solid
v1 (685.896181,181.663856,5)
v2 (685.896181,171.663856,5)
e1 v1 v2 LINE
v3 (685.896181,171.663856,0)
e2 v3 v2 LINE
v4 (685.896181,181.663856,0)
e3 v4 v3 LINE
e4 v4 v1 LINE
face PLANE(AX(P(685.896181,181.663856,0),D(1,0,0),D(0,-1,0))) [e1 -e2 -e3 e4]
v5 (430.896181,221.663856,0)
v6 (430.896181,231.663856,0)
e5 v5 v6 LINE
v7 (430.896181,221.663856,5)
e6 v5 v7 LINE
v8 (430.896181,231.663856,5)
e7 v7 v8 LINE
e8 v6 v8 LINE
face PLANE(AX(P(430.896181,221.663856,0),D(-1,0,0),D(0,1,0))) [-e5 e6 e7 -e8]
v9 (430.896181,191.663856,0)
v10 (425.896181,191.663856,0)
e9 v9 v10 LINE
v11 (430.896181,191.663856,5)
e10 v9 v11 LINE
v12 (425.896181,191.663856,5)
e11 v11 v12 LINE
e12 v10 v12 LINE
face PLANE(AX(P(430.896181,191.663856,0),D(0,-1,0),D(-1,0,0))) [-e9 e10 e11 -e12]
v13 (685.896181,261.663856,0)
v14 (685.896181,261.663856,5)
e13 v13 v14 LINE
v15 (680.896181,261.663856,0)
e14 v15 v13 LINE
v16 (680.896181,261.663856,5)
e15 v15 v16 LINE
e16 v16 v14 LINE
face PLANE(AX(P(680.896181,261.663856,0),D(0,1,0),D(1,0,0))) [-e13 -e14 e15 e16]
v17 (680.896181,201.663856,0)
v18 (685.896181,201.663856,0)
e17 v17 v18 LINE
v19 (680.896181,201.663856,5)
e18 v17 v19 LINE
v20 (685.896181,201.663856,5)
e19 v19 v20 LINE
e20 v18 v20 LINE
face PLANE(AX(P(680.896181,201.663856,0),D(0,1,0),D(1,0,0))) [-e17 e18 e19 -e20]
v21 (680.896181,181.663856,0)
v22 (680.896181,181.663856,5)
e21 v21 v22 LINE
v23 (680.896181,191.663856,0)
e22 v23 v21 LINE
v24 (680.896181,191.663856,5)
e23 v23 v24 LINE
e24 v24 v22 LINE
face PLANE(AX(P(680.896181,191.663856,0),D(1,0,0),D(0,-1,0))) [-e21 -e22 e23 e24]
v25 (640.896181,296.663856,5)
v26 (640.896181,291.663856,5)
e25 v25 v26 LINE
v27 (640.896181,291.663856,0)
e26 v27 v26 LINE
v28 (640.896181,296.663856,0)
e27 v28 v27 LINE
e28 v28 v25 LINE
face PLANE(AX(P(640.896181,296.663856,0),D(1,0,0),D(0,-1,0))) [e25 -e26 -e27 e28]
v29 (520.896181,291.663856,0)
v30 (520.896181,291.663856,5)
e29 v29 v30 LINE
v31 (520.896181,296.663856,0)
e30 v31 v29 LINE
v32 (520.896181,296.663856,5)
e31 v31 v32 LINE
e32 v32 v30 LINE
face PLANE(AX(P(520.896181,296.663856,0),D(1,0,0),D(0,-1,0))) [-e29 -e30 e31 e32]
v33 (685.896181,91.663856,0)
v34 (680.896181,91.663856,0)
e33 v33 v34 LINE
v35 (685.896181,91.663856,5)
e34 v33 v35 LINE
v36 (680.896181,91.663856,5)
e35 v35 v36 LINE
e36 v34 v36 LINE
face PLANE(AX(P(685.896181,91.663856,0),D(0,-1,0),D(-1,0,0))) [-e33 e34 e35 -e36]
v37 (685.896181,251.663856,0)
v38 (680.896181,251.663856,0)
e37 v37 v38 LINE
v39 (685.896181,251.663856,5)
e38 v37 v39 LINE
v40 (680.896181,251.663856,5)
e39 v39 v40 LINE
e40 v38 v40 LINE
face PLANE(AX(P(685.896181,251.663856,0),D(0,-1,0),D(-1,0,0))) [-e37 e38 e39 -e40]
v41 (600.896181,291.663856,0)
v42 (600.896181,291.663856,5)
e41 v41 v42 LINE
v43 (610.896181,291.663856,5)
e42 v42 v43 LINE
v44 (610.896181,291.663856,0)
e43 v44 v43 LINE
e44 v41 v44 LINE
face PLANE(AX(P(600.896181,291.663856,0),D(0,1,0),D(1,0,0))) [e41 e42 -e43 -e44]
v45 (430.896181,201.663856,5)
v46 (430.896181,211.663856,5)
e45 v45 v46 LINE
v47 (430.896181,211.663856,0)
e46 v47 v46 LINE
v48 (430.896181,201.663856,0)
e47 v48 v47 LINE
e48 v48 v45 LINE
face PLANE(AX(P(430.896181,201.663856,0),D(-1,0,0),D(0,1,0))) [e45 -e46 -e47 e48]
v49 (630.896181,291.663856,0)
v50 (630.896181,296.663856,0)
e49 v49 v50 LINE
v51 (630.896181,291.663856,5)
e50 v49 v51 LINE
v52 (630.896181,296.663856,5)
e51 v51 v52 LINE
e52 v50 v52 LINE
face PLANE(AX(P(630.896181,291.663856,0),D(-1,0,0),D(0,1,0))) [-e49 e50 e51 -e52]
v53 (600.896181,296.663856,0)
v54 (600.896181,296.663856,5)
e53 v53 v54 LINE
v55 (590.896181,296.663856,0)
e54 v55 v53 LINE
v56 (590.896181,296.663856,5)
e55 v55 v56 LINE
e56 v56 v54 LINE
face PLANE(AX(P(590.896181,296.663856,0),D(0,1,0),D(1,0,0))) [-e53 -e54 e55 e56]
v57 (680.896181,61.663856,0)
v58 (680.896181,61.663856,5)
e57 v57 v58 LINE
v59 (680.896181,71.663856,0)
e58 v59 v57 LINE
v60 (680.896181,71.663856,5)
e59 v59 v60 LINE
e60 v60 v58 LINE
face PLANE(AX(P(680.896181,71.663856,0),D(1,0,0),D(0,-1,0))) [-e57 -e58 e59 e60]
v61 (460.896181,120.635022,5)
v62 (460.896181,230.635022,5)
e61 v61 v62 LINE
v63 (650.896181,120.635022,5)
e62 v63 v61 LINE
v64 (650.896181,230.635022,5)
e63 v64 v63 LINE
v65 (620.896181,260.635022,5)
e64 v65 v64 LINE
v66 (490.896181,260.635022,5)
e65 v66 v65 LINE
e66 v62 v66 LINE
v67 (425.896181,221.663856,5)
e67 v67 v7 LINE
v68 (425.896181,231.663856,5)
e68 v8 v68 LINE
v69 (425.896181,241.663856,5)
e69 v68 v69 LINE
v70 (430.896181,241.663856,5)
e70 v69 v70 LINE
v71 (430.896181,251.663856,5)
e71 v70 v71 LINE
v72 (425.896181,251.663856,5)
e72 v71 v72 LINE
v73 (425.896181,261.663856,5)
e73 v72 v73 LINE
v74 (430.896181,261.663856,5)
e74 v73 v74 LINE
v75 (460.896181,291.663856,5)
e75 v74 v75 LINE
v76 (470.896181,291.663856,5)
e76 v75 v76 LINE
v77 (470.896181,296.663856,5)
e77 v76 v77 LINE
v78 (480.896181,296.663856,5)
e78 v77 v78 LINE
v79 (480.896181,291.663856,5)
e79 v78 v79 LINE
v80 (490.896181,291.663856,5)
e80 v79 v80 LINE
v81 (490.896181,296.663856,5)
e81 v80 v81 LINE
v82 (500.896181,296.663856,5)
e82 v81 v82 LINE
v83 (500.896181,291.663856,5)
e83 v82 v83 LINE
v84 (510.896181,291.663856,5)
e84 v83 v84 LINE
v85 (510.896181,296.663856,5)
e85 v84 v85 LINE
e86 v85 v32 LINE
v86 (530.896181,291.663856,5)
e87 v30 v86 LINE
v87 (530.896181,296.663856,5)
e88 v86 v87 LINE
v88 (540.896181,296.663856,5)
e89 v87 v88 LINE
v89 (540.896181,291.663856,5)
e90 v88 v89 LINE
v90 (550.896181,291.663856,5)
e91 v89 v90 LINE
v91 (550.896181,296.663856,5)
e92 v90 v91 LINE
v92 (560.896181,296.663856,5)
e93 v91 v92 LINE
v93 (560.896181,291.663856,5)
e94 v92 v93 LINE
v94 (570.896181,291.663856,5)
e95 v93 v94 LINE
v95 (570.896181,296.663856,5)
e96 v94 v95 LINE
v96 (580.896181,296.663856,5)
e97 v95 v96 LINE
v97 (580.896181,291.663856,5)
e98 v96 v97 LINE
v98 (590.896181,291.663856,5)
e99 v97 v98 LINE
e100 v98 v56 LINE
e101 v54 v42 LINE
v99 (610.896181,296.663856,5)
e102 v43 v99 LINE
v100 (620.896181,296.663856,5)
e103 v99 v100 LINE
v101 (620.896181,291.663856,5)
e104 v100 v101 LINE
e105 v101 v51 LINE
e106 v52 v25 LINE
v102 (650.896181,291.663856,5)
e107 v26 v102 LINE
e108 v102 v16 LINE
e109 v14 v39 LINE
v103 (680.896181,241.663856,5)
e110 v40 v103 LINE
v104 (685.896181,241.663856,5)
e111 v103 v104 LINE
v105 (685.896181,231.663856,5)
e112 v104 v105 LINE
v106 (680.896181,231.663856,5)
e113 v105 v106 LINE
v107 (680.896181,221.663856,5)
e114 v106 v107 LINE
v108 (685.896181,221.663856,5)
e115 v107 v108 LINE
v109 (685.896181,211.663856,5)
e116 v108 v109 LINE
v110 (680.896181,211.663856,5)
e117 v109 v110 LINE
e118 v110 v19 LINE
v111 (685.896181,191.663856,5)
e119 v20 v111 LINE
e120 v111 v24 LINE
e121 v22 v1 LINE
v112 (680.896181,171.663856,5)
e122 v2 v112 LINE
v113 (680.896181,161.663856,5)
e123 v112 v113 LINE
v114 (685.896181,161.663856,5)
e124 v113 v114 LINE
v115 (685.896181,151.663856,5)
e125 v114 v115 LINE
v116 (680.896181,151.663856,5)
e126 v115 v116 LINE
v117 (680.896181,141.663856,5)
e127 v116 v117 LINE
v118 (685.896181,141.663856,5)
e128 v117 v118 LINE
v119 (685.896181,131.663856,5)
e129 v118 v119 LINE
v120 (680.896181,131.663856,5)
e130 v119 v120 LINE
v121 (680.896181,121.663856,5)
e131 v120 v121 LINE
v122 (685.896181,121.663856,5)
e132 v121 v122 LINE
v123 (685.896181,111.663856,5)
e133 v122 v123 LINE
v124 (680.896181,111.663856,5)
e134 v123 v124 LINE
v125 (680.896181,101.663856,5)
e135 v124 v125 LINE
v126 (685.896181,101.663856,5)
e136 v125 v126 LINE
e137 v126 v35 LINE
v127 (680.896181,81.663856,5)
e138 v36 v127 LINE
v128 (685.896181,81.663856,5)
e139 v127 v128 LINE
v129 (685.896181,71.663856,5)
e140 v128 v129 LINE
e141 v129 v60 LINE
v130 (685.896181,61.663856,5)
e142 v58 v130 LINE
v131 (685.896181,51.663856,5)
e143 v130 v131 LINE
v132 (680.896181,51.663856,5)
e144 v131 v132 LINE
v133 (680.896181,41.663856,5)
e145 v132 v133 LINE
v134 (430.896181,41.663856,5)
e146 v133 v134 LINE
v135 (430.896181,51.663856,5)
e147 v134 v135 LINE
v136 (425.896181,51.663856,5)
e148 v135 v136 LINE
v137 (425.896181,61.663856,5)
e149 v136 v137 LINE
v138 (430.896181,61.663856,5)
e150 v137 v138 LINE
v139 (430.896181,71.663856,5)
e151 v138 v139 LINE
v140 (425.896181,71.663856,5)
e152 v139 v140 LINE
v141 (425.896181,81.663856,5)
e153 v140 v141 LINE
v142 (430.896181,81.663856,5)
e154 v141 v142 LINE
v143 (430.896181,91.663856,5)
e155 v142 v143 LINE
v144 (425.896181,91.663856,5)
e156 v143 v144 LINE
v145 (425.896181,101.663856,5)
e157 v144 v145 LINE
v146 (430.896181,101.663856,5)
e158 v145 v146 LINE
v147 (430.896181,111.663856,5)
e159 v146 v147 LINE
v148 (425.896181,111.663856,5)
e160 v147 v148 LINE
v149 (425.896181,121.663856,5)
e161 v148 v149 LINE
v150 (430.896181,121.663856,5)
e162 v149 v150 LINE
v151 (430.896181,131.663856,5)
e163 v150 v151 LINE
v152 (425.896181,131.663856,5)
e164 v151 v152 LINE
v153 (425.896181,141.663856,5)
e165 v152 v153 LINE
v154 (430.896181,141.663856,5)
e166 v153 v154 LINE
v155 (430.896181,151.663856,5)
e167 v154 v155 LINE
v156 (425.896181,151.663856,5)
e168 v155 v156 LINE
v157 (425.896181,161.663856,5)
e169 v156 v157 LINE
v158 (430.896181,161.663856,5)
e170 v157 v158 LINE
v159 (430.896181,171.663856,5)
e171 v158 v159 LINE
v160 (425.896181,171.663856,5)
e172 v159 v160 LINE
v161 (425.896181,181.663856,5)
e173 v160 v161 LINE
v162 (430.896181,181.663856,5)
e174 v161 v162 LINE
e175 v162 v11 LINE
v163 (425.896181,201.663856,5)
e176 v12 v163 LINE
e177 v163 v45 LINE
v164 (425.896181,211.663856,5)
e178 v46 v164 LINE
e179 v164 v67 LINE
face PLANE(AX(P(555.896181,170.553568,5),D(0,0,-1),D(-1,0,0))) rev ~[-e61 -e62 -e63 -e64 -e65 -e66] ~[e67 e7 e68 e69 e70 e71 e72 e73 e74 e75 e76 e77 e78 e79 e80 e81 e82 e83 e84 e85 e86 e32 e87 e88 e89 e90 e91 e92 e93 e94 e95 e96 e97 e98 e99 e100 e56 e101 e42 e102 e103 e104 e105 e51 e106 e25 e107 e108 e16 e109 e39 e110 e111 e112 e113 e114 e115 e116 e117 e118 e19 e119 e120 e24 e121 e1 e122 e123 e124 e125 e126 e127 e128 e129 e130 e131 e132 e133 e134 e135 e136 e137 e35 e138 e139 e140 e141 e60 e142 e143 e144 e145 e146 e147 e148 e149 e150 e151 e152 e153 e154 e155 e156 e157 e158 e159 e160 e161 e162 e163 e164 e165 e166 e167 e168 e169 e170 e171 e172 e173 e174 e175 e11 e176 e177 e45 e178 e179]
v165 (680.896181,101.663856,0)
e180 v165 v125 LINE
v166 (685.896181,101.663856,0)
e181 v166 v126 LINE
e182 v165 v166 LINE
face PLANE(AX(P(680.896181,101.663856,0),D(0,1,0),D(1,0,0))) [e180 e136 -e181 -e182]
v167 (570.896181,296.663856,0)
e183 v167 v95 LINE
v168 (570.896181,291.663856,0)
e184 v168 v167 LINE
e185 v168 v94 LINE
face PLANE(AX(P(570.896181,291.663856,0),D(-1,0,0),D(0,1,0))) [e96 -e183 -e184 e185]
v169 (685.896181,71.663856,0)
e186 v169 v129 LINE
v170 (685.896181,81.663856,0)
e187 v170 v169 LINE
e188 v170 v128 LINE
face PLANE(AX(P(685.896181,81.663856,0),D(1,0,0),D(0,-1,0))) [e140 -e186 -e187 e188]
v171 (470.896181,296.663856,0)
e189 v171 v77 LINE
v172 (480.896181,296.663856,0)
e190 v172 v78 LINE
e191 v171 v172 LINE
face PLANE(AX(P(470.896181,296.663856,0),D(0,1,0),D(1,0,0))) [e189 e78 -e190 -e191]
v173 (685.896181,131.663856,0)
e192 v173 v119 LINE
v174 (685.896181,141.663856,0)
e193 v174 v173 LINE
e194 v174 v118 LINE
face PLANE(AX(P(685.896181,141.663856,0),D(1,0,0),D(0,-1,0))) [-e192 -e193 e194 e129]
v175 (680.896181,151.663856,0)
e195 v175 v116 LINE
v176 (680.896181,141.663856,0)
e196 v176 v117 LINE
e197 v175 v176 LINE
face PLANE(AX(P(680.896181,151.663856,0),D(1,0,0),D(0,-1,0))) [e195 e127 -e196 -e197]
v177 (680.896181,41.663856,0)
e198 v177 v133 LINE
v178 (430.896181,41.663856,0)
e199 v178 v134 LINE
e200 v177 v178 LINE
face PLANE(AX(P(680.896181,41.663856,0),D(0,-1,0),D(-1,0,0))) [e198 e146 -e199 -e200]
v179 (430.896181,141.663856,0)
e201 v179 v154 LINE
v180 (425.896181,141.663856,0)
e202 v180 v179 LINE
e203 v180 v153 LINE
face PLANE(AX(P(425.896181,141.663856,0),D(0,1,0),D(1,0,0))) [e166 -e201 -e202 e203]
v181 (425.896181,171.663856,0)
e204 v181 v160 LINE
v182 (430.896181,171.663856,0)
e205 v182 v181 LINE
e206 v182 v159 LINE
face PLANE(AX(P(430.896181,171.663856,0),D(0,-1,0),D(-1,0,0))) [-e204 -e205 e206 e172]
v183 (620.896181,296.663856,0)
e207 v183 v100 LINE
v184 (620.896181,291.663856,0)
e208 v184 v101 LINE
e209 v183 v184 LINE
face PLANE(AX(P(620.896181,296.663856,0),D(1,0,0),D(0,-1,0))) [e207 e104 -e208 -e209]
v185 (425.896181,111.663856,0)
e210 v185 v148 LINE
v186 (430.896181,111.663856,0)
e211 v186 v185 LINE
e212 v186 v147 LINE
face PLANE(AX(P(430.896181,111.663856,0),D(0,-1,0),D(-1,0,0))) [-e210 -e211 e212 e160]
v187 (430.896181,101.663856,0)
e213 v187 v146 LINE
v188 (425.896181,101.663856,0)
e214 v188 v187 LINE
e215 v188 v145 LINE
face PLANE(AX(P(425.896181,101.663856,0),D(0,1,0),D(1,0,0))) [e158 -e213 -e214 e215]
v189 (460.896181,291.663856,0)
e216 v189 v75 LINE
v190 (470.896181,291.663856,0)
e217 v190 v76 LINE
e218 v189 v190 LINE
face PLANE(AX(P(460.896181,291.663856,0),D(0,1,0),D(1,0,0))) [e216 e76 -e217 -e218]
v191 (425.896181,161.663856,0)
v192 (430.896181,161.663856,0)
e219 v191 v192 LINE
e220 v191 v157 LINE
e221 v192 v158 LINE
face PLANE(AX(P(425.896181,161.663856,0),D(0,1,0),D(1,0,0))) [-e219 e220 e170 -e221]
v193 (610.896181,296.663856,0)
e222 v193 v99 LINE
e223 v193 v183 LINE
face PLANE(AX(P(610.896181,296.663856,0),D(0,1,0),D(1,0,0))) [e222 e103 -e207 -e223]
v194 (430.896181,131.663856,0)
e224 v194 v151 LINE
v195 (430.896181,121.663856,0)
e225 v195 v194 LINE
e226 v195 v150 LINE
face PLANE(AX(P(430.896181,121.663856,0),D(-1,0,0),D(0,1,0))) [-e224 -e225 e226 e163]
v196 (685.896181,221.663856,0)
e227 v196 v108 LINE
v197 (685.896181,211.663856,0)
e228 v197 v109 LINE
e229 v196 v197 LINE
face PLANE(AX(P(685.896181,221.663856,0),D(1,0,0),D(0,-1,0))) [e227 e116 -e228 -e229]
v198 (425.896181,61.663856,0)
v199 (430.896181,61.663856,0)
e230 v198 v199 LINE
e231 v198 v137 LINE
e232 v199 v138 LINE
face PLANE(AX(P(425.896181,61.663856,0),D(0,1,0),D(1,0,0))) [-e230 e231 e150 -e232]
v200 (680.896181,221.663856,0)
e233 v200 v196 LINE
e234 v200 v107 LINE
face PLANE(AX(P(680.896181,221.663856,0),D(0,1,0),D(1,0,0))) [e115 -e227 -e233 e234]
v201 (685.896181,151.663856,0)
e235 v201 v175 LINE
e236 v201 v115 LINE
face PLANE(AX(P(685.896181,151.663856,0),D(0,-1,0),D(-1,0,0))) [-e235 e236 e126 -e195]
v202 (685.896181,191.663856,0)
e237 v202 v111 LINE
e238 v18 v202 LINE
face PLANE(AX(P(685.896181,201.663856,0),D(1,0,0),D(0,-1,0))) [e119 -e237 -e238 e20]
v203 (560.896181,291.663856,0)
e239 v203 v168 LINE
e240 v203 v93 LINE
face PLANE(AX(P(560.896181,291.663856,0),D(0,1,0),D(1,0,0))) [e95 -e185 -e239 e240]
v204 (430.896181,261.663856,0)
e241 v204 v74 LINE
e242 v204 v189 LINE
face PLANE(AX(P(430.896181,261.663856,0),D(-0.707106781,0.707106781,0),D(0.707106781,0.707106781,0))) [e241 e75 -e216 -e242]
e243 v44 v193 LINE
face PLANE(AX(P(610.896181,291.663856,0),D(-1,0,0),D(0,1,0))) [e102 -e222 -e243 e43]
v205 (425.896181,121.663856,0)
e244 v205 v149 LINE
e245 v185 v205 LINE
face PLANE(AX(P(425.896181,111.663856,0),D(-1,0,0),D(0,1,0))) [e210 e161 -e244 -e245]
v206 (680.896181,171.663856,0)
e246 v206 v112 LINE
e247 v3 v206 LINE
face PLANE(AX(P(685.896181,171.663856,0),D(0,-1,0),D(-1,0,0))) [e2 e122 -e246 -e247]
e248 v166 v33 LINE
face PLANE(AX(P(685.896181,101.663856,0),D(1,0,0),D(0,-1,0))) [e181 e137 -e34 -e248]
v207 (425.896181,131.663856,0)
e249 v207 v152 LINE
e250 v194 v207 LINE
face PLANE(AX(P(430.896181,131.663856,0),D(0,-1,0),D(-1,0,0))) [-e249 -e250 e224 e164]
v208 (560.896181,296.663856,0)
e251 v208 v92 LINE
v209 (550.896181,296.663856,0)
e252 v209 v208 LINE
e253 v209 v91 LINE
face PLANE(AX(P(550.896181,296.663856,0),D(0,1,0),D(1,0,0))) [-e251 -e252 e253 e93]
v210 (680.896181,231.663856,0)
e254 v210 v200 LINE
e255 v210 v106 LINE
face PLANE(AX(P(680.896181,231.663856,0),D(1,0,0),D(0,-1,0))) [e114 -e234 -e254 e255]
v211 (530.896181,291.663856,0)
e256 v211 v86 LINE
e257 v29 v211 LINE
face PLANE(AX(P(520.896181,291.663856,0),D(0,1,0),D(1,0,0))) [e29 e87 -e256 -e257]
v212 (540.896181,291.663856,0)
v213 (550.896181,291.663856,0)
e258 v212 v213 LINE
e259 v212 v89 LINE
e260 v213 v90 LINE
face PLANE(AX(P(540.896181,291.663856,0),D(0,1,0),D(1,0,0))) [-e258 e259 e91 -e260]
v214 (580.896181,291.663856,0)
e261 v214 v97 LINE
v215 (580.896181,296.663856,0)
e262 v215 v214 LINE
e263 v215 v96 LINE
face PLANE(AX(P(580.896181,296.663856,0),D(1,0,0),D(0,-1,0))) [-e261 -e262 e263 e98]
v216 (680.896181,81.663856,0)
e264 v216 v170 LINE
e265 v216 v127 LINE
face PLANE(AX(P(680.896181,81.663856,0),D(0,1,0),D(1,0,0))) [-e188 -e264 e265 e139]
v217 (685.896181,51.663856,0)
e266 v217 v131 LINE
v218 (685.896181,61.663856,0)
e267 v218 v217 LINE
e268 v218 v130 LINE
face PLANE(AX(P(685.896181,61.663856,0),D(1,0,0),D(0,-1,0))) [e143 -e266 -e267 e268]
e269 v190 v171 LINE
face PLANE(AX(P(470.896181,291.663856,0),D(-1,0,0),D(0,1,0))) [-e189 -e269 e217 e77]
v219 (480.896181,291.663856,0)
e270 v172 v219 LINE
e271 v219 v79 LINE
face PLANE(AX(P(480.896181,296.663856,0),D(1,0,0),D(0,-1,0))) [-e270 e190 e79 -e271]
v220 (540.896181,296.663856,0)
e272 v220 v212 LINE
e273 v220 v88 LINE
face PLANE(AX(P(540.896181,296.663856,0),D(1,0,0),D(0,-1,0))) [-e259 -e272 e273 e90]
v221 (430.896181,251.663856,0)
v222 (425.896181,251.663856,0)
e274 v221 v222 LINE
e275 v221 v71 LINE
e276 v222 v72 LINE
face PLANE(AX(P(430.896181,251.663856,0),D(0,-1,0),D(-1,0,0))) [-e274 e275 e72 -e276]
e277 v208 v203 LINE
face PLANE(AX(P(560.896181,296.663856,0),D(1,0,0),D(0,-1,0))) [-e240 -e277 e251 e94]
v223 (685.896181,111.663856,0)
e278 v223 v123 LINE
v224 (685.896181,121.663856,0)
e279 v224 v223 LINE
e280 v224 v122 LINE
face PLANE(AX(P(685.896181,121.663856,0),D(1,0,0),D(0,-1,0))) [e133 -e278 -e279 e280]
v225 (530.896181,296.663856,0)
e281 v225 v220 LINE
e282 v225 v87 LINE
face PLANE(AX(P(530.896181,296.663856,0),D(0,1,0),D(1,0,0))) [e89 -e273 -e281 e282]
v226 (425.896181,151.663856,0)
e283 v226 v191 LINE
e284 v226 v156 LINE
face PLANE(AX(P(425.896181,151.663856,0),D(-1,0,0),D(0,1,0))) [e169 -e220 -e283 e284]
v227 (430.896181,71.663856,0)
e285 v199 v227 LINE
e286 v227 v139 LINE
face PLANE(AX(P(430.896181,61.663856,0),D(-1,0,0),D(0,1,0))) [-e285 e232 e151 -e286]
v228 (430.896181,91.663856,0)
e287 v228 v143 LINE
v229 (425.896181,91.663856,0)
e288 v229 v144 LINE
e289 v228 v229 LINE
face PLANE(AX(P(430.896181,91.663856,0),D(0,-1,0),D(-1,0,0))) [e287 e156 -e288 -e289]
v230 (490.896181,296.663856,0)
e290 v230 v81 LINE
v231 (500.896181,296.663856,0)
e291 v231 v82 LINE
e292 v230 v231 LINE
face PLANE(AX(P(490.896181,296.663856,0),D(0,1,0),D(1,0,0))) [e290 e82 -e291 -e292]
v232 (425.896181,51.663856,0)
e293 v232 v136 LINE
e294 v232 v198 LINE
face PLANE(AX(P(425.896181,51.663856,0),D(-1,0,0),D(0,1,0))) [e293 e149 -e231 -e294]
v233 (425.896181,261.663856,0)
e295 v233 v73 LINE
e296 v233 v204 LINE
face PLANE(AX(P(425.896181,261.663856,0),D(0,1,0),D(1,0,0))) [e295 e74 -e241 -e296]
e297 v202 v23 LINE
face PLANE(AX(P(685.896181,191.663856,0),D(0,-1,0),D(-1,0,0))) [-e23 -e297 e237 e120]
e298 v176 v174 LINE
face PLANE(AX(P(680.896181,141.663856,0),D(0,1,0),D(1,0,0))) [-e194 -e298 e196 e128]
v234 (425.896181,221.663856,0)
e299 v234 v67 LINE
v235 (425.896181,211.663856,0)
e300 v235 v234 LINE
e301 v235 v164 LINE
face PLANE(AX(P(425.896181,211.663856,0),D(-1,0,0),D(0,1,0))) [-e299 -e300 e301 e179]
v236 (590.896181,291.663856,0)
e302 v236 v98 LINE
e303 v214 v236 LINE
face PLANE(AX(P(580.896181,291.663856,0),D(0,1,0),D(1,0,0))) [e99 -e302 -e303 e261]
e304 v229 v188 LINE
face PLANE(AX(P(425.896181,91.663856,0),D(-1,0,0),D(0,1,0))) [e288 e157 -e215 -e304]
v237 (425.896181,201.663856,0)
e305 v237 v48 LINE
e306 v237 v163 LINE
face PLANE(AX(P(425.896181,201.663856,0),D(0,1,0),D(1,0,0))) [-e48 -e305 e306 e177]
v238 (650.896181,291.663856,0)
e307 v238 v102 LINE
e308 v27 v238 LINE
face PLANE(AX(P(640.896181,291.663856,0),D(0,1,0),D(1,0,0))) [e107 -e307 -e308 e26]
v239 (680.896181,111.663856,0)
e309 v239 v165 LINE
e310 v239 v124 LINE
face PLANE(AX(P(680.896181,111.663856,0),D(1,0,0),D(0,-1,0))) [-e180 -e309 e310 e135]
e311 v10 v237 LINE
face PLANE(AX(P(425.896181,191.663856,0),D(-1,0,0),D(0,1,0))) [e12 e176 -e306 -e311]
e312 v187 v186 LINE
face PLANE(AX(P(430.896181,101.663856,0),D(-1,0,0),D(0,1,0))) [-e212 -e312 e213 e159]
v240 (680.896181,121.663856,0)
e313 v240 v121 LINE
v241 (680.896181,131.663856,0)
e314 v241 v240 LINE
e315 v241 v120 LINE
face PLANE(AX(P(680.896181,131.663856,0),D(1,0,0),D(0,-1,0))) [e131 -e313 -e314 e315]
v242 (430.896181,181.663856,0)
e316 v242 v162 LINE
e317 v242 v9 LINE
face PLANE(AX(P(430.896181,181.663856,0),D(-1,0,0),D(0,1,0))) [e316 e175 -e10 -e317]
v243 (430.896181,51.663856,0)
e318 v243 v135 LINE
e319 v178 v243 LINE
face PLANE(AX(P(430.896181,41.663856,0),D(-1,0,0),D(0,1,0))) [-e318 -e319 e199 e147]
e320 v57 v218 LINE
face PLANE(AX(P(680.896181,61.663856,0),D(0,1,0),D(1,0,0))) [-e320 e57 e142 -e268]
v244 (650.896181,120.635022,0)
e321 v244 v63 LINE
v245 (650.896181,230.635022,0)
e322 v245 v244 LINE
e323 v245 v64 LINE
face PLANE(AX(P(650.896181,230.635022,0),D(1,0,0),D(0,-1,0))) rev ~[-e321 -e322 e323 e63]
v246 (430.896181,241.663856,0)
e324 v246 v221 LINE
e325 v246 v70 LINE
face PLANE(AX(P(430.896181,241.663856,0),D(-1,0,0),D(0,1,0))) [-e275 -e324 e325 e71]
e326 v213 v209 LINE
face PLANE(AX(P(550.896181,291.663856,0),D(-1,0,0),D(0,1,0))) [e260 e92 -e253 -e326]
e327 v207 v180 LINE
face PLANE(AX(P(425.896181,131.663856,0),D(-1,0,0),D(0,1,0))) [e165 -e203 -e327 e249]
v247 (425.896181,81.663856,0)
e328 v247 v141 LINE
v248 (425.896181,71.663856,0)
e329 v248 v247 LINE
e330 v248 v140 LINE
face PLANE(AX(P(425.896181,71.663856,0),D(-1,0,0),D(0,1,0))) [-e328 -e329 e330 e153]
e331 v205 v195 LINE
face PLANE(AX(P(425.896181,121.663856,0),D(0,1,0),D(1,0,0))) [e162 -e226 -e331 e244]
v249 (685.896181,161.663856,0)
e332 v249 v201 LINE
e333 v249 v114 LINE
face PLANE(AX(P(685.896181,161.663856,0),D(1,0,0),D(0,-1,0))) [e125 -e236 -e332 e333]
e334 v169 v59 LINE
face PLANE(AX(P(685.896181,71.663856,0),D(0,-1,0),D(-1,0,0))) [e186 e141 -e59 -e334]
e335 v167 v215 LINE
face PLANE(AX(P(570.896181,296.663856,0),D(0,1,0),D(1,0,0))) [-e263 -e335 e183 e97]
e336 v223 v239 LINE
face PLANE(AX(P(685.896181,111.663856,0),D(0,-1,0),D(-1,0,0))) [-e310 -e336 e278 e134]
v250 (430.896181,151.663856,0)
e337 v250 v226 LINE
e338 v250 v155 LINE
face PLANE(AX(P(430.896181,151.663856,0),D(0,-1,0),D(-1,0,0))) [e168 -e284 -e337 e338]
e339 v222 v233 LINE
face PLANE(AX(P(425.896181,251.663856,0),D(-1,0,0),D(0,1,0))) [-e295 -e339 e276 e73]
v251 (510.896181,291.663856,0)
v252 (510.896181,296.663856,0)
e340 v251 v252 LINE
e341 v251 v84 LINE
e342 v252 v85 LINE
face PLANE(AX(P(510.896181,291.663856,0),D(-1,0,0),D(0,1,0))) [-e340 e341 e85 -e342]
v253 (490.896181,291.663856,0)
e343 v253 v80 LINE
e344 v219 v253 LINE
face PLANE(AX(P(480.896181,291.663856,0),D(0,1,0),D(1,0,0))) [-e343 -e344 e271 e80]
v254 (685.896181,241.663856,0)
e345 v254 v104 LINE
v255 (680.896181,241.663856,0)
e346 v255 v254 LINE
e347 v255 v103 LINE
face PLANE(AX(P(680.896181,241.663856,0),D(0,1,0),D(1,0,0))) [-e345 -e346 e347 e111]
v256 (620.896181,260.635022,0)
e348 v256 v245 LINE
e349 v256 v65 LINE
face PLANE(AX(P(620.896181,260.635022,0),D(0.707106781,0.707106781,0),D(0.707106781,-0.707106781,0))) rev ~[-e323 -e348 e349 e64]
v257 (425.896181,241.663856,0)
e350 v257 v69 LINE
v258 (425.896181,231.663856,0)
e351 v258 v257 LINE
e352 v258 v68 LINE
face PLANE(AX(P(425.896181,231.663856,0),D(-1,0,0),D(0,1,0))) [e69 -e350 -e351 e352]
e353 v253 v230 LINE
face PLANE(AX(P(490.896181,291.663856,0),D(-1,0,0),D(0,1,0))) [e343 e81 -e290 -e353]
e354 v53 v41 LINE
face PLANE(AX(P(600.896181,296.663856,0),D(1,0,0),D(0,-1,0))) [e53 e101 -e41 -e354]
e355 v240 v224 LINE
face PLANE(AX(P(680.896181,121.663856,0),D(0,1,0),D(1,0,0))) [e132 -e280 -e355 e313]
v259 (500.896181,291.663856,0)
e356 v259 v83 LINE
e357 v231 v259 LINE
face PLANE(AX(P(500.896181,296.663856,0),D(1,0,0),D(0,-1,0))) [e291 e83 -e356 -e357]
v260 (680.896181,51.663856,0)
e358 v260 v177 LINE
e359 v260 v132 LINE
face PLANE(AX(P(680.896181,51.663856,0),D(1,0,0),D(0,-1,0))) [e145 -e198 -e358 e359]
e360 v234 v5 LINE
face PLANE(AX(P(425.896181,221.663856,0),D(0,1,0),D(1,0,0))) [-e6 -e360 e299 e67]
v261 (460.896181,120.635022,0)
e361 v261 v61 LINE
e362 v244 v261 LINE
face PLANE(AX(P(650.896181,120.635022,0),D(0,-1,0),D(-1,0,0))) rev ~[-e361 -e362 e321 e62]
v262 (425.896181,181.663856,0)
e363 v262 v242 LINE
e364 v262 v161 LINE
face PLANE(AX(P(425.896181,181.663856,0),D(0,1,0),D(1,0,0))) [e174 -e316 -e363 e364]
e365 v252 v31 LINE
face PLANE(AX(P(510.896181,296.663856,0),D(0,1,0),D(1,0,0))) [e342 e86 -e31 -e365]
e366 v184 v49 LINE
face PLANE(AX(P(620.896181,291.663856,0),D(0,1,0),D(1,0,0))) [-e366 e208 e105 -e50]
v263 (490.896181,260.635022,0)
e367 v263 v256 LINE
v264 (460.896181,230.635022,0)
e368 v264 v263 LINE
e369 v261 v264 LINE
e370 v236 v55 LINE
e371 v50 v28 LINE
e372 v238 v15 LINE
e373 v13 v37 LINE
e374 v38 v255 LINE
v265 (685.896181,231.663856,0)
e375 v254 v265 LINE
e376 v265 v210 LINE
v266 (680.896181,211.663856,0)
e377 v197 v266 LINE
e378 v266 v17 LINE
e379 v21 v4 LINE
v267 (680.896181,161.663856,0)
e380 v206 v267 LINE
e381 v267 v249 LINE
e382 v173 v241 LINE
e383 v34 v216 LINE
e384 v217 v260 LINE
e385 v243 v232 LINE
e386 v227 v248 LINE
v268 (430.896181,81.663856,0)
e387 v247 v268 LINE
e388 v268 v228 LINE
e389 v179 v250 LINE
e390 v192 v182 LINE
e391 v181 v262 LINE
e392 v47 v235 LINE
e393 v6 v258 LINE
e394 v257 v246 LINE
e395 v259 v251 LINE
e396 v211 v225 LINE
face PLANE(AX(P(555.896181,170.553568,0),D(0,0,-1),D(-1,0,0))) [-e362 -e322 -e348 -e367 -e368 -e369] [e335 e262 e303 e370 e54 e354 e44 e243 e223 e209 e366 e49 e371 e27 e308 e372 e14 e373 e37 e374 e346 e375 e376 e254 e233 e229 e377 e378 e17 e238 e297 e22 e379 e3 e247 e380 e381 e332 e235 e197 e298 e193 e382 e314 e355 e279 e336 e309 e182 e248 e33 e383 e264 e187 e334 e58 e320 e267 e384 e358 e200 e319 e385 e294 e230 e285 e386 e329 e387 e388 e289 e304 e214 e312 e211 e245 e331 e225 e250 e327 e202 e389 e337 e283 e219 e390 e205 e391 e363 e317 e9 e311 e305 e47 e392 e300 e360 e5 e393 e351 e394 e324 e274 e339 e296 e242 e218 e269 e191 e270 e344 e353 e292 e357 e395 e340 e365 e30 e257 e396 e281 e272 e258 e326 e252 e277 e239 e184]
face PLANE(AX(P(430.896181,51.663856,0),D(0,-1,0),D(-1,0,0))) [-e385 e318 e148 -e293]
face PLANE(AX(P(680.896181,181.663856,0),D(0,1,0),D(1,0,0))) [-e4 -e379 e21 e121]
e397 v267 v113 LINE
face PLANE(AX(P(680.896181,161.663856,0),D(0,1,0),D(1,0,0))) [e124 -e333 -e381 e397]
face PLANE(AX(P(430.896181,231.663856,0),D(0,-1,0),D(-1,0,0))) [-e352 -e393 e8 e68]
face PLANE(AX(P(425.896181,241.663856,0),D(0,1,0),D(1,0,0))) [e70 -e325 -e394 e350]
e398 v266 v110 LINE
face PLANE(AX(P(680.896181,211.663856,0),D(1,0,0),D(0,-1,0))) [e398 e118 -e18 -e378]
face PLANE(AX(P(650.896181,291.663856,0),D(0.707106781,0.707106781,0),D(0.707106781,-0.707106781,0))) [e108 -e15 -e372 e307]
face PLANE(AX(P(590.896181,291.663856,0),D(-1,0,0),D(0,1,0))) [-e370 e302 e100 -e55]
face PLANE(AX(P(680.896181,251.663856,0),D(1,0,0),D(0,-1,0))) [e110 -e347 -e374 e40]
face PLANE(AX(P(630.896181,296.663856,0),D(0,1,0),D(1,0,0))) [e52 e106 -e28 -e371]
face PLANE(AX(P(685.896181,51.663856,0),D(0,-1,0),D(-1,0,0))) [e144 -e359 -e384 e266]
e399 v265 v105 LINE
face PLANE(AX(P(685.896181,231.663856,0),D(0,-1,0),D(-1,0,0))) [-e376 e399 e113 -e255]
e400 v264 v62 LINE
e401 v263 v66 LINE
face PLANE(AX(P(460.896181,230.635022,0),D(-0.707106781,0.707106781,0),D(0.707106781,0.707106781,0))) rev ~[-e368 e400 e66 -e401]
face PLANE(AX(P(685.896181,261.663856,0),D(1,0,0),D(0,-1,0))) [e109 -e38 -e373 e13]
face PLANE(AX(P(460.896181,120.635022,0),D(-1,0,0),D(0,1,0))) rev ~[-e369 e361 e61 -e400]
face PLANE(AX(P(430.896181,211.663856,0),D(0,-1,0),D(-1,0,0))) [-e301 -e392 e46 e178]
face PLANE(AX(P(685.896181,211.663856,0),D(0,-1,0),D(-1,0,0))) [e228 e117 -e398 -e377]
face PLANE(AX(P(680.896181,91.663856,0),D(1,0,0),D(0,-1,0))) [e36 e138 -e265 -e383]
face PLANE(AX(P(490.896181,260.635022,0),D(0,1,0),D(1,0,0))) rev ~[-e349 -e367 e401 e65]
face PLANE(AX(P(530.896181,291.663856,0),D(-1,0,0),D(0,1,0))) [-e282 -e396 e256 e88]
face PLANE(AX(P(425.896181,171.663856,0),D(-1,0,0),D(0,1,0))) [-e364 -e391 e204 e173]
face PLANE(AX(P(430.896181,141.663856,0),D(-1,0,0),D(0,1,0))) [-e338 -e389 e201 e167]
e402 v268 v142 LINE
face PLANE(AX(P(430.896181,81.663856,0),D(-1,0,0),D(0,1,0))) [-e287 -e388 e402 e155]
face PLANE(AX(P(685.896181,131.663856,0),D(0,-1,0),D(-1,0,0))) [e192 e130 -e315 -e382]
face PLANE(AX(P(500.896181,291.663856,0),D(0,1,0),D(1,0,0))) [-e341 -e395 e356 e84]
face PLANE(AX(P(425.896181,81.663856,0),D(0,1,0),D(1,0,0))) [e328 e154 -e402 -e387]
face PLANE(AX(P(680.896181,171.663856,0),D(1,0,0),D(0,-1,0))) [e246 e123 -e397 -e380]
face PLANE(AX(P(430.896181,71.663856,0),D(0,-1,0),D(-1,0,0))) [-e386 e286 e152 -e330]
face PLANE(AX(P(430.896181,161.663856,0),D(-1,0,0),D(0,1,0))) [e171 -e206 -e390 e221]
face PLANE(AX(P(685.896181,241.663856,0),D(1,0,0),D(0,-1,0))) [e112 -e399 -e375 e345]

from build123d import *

# Parameters (mm, degrees)
AUFSATZ_LINEAR_AUSTRAGEN1_DEPTH = 5


with BuildPart() as part:
    # Skizze1 → Aufsatz-Linear austragen1 (new body)
    with BuildSketch(Plane.XY):
        Polygon((460.89618142, 291.663856447), (470.89618142, 291.663856447), (470.89618142, 296.663856447), (480.89618142, 296.663856447), (480.89618142, 291.663856447), (490.89618142, 291.663856447), (490.89618142, 296.663856447), (500.89618142, 296.663856447), (500.89618142, 291.663856447), (510.89618142, 291.663856447), (510.89618142, 296.663856447), (520.89618142, 296.663856447), (520.89618142, 291.663856447), (530.89618142, 291.663856447), (530.89618142, 296.663856447), (540.89618142, 296.663856447), (540.89618142, 291.663856447), (550.89618142, 291.663856447), (550.89618142, 296.663856447), (560.89618142, 296.663856447), (560.89618142, 291.663856447), (570.89618142, 291.663856447), (570.89618142, 296.663856447), (580.89618142, 296.663856447), (580.89618142, 291.663856447), (590.89618142, 291.663856447), (590.89618142, 296.663856447), (600.89618142, 296.663856447), (600.89618142, 291.663856447), (610.89618142, 291.663856447), (610.89618142, 296.663856447), (620.89618142, 296.663856447), (620.89618142, 291.663856447), (630.89618142, 291.663856447), (630.89618142, 296.663856447), (640.89618142, 296.663856447), (640.89618142, 291.663856447), (650.89618142, 291.663856447), (680.89618142, 261.663856447), (685.89618142, 261.663856447), (685.89618142, 251.663856447), (680.89618142, 251.663856447), (680.89618142, 241.663856447), (685.89618142, 241.663856447), (685.89618142, 231.663856447), (680.89618142, 231.663856447), (680.89618142, 221.663856447), (685.89618142, 221.663856447), (685.89618142, 211.663856447), (680.89618142, 211.663856447), (680.89618142, 201.663856447), (685.89618142, 201.663856447), (685.89618142, 191.663856447), (680.89618142, 191.663856447), (680.89618142, 181.663856447), (685.89618142, 181.663856447), (685.89618142, 171.663856447), (680.89618142, 171.663856447), (680.89618142, 161.663856447), (685.89618142, 161.663856447), (685.89618142, 151.663856447), (680.89618142, 151.663856447), (680.89618142, 141.663856447), (685.89618142, 141.663856447), (685.89618142, 131.663856447), (680.89618142, 131.663856447), (680.89618142, 121.663856447), (685.89618142, 121.663856447), (685.89618142, 111.663856447), (680.89618142, 111.663856447), (680.89618142, 101.663856447), (685.89618142, 101.663856447), (685.89618142, 91.663856447), (680.89618142, 91.663856447), (680.89618142, 81.663856447), (685.89618142, 81.663856447), (685.89618142, 71.663856447), (680.89618142, 71.663856447), (680.89618142, 61.663856447), (685.89618142, 61.663856447), (685.89618142, 51.663856447), (680.89618142, 51.663856447), (680.89618142, 41.663856447), (430.89618142, 41.663856447), (430.89618142, 51.663856447), (425.89618142, 51.663856447), (425.89618142, 61.663856447), (430.89618142, 61.663856447), (430.89618142, 71.663856447), (425.89618142, 71.663856447), (425.89618142, 81.663856447), (430.89618142, 81.663856447), (430.89618142, 91.663856447), (425.89618142, 91.663856447), (425.89618142, 101.663856447), (430.89618142, 101.663856447), (430.89618142, 111.663856447), (425.89618142, 111.663856447), (425.89618142, 121.663856447), (430.89618142, 121.663856447), (430.89618142, 131.663856447), (425.89618142, 131.663856447), (425.89618142, 141.663856447), (430.89618142, 141.663856447), (430.89618142, 151.663856447), (425.89618142, 151.663856447), (425.89618142, 161.663856447), (430.89618142, 161.663856447), (430.89618142, 171.663856447), (425.89618142, 171.663856447), (425.89618142, 181.663856447), (430.89618142, 181.663856447), (430.89618142, 191.663856447), (425.89618142, 191.663856447), (425.89618142, 201.663856447), (430.89618142, 201.663856447), (430.89618142, 211.663856447), (425.89618142, 211.663856447), (425.89618142, 221.663856447), (430.89618142, 221.663856447), (430.89618142, 231.663856447), (425.89618142, 231.663856447), (425.89618142, 241.663856447), (430.89618142, 241.663856447), (430.89618142, 251.663856447), (425.89618142, 251.663856447), (425.89618142, 261.663856447), (430.89618142, 261.663856447), align=None)
        Polygon((490.89618142, 260.635021844), (620.89618142, 260.635021844), (650.89618142, 230.635021844), (650.89618142, 120.635021844), (460.89618142, 120.635021844), (460.89618142, 230.635021844), align=None, mode=Mode.SUBTRACT)
    extrude(amount=AUFSATZ_LINEAR_AUSTRAGEN1_DEPTH)


solid = part.part
